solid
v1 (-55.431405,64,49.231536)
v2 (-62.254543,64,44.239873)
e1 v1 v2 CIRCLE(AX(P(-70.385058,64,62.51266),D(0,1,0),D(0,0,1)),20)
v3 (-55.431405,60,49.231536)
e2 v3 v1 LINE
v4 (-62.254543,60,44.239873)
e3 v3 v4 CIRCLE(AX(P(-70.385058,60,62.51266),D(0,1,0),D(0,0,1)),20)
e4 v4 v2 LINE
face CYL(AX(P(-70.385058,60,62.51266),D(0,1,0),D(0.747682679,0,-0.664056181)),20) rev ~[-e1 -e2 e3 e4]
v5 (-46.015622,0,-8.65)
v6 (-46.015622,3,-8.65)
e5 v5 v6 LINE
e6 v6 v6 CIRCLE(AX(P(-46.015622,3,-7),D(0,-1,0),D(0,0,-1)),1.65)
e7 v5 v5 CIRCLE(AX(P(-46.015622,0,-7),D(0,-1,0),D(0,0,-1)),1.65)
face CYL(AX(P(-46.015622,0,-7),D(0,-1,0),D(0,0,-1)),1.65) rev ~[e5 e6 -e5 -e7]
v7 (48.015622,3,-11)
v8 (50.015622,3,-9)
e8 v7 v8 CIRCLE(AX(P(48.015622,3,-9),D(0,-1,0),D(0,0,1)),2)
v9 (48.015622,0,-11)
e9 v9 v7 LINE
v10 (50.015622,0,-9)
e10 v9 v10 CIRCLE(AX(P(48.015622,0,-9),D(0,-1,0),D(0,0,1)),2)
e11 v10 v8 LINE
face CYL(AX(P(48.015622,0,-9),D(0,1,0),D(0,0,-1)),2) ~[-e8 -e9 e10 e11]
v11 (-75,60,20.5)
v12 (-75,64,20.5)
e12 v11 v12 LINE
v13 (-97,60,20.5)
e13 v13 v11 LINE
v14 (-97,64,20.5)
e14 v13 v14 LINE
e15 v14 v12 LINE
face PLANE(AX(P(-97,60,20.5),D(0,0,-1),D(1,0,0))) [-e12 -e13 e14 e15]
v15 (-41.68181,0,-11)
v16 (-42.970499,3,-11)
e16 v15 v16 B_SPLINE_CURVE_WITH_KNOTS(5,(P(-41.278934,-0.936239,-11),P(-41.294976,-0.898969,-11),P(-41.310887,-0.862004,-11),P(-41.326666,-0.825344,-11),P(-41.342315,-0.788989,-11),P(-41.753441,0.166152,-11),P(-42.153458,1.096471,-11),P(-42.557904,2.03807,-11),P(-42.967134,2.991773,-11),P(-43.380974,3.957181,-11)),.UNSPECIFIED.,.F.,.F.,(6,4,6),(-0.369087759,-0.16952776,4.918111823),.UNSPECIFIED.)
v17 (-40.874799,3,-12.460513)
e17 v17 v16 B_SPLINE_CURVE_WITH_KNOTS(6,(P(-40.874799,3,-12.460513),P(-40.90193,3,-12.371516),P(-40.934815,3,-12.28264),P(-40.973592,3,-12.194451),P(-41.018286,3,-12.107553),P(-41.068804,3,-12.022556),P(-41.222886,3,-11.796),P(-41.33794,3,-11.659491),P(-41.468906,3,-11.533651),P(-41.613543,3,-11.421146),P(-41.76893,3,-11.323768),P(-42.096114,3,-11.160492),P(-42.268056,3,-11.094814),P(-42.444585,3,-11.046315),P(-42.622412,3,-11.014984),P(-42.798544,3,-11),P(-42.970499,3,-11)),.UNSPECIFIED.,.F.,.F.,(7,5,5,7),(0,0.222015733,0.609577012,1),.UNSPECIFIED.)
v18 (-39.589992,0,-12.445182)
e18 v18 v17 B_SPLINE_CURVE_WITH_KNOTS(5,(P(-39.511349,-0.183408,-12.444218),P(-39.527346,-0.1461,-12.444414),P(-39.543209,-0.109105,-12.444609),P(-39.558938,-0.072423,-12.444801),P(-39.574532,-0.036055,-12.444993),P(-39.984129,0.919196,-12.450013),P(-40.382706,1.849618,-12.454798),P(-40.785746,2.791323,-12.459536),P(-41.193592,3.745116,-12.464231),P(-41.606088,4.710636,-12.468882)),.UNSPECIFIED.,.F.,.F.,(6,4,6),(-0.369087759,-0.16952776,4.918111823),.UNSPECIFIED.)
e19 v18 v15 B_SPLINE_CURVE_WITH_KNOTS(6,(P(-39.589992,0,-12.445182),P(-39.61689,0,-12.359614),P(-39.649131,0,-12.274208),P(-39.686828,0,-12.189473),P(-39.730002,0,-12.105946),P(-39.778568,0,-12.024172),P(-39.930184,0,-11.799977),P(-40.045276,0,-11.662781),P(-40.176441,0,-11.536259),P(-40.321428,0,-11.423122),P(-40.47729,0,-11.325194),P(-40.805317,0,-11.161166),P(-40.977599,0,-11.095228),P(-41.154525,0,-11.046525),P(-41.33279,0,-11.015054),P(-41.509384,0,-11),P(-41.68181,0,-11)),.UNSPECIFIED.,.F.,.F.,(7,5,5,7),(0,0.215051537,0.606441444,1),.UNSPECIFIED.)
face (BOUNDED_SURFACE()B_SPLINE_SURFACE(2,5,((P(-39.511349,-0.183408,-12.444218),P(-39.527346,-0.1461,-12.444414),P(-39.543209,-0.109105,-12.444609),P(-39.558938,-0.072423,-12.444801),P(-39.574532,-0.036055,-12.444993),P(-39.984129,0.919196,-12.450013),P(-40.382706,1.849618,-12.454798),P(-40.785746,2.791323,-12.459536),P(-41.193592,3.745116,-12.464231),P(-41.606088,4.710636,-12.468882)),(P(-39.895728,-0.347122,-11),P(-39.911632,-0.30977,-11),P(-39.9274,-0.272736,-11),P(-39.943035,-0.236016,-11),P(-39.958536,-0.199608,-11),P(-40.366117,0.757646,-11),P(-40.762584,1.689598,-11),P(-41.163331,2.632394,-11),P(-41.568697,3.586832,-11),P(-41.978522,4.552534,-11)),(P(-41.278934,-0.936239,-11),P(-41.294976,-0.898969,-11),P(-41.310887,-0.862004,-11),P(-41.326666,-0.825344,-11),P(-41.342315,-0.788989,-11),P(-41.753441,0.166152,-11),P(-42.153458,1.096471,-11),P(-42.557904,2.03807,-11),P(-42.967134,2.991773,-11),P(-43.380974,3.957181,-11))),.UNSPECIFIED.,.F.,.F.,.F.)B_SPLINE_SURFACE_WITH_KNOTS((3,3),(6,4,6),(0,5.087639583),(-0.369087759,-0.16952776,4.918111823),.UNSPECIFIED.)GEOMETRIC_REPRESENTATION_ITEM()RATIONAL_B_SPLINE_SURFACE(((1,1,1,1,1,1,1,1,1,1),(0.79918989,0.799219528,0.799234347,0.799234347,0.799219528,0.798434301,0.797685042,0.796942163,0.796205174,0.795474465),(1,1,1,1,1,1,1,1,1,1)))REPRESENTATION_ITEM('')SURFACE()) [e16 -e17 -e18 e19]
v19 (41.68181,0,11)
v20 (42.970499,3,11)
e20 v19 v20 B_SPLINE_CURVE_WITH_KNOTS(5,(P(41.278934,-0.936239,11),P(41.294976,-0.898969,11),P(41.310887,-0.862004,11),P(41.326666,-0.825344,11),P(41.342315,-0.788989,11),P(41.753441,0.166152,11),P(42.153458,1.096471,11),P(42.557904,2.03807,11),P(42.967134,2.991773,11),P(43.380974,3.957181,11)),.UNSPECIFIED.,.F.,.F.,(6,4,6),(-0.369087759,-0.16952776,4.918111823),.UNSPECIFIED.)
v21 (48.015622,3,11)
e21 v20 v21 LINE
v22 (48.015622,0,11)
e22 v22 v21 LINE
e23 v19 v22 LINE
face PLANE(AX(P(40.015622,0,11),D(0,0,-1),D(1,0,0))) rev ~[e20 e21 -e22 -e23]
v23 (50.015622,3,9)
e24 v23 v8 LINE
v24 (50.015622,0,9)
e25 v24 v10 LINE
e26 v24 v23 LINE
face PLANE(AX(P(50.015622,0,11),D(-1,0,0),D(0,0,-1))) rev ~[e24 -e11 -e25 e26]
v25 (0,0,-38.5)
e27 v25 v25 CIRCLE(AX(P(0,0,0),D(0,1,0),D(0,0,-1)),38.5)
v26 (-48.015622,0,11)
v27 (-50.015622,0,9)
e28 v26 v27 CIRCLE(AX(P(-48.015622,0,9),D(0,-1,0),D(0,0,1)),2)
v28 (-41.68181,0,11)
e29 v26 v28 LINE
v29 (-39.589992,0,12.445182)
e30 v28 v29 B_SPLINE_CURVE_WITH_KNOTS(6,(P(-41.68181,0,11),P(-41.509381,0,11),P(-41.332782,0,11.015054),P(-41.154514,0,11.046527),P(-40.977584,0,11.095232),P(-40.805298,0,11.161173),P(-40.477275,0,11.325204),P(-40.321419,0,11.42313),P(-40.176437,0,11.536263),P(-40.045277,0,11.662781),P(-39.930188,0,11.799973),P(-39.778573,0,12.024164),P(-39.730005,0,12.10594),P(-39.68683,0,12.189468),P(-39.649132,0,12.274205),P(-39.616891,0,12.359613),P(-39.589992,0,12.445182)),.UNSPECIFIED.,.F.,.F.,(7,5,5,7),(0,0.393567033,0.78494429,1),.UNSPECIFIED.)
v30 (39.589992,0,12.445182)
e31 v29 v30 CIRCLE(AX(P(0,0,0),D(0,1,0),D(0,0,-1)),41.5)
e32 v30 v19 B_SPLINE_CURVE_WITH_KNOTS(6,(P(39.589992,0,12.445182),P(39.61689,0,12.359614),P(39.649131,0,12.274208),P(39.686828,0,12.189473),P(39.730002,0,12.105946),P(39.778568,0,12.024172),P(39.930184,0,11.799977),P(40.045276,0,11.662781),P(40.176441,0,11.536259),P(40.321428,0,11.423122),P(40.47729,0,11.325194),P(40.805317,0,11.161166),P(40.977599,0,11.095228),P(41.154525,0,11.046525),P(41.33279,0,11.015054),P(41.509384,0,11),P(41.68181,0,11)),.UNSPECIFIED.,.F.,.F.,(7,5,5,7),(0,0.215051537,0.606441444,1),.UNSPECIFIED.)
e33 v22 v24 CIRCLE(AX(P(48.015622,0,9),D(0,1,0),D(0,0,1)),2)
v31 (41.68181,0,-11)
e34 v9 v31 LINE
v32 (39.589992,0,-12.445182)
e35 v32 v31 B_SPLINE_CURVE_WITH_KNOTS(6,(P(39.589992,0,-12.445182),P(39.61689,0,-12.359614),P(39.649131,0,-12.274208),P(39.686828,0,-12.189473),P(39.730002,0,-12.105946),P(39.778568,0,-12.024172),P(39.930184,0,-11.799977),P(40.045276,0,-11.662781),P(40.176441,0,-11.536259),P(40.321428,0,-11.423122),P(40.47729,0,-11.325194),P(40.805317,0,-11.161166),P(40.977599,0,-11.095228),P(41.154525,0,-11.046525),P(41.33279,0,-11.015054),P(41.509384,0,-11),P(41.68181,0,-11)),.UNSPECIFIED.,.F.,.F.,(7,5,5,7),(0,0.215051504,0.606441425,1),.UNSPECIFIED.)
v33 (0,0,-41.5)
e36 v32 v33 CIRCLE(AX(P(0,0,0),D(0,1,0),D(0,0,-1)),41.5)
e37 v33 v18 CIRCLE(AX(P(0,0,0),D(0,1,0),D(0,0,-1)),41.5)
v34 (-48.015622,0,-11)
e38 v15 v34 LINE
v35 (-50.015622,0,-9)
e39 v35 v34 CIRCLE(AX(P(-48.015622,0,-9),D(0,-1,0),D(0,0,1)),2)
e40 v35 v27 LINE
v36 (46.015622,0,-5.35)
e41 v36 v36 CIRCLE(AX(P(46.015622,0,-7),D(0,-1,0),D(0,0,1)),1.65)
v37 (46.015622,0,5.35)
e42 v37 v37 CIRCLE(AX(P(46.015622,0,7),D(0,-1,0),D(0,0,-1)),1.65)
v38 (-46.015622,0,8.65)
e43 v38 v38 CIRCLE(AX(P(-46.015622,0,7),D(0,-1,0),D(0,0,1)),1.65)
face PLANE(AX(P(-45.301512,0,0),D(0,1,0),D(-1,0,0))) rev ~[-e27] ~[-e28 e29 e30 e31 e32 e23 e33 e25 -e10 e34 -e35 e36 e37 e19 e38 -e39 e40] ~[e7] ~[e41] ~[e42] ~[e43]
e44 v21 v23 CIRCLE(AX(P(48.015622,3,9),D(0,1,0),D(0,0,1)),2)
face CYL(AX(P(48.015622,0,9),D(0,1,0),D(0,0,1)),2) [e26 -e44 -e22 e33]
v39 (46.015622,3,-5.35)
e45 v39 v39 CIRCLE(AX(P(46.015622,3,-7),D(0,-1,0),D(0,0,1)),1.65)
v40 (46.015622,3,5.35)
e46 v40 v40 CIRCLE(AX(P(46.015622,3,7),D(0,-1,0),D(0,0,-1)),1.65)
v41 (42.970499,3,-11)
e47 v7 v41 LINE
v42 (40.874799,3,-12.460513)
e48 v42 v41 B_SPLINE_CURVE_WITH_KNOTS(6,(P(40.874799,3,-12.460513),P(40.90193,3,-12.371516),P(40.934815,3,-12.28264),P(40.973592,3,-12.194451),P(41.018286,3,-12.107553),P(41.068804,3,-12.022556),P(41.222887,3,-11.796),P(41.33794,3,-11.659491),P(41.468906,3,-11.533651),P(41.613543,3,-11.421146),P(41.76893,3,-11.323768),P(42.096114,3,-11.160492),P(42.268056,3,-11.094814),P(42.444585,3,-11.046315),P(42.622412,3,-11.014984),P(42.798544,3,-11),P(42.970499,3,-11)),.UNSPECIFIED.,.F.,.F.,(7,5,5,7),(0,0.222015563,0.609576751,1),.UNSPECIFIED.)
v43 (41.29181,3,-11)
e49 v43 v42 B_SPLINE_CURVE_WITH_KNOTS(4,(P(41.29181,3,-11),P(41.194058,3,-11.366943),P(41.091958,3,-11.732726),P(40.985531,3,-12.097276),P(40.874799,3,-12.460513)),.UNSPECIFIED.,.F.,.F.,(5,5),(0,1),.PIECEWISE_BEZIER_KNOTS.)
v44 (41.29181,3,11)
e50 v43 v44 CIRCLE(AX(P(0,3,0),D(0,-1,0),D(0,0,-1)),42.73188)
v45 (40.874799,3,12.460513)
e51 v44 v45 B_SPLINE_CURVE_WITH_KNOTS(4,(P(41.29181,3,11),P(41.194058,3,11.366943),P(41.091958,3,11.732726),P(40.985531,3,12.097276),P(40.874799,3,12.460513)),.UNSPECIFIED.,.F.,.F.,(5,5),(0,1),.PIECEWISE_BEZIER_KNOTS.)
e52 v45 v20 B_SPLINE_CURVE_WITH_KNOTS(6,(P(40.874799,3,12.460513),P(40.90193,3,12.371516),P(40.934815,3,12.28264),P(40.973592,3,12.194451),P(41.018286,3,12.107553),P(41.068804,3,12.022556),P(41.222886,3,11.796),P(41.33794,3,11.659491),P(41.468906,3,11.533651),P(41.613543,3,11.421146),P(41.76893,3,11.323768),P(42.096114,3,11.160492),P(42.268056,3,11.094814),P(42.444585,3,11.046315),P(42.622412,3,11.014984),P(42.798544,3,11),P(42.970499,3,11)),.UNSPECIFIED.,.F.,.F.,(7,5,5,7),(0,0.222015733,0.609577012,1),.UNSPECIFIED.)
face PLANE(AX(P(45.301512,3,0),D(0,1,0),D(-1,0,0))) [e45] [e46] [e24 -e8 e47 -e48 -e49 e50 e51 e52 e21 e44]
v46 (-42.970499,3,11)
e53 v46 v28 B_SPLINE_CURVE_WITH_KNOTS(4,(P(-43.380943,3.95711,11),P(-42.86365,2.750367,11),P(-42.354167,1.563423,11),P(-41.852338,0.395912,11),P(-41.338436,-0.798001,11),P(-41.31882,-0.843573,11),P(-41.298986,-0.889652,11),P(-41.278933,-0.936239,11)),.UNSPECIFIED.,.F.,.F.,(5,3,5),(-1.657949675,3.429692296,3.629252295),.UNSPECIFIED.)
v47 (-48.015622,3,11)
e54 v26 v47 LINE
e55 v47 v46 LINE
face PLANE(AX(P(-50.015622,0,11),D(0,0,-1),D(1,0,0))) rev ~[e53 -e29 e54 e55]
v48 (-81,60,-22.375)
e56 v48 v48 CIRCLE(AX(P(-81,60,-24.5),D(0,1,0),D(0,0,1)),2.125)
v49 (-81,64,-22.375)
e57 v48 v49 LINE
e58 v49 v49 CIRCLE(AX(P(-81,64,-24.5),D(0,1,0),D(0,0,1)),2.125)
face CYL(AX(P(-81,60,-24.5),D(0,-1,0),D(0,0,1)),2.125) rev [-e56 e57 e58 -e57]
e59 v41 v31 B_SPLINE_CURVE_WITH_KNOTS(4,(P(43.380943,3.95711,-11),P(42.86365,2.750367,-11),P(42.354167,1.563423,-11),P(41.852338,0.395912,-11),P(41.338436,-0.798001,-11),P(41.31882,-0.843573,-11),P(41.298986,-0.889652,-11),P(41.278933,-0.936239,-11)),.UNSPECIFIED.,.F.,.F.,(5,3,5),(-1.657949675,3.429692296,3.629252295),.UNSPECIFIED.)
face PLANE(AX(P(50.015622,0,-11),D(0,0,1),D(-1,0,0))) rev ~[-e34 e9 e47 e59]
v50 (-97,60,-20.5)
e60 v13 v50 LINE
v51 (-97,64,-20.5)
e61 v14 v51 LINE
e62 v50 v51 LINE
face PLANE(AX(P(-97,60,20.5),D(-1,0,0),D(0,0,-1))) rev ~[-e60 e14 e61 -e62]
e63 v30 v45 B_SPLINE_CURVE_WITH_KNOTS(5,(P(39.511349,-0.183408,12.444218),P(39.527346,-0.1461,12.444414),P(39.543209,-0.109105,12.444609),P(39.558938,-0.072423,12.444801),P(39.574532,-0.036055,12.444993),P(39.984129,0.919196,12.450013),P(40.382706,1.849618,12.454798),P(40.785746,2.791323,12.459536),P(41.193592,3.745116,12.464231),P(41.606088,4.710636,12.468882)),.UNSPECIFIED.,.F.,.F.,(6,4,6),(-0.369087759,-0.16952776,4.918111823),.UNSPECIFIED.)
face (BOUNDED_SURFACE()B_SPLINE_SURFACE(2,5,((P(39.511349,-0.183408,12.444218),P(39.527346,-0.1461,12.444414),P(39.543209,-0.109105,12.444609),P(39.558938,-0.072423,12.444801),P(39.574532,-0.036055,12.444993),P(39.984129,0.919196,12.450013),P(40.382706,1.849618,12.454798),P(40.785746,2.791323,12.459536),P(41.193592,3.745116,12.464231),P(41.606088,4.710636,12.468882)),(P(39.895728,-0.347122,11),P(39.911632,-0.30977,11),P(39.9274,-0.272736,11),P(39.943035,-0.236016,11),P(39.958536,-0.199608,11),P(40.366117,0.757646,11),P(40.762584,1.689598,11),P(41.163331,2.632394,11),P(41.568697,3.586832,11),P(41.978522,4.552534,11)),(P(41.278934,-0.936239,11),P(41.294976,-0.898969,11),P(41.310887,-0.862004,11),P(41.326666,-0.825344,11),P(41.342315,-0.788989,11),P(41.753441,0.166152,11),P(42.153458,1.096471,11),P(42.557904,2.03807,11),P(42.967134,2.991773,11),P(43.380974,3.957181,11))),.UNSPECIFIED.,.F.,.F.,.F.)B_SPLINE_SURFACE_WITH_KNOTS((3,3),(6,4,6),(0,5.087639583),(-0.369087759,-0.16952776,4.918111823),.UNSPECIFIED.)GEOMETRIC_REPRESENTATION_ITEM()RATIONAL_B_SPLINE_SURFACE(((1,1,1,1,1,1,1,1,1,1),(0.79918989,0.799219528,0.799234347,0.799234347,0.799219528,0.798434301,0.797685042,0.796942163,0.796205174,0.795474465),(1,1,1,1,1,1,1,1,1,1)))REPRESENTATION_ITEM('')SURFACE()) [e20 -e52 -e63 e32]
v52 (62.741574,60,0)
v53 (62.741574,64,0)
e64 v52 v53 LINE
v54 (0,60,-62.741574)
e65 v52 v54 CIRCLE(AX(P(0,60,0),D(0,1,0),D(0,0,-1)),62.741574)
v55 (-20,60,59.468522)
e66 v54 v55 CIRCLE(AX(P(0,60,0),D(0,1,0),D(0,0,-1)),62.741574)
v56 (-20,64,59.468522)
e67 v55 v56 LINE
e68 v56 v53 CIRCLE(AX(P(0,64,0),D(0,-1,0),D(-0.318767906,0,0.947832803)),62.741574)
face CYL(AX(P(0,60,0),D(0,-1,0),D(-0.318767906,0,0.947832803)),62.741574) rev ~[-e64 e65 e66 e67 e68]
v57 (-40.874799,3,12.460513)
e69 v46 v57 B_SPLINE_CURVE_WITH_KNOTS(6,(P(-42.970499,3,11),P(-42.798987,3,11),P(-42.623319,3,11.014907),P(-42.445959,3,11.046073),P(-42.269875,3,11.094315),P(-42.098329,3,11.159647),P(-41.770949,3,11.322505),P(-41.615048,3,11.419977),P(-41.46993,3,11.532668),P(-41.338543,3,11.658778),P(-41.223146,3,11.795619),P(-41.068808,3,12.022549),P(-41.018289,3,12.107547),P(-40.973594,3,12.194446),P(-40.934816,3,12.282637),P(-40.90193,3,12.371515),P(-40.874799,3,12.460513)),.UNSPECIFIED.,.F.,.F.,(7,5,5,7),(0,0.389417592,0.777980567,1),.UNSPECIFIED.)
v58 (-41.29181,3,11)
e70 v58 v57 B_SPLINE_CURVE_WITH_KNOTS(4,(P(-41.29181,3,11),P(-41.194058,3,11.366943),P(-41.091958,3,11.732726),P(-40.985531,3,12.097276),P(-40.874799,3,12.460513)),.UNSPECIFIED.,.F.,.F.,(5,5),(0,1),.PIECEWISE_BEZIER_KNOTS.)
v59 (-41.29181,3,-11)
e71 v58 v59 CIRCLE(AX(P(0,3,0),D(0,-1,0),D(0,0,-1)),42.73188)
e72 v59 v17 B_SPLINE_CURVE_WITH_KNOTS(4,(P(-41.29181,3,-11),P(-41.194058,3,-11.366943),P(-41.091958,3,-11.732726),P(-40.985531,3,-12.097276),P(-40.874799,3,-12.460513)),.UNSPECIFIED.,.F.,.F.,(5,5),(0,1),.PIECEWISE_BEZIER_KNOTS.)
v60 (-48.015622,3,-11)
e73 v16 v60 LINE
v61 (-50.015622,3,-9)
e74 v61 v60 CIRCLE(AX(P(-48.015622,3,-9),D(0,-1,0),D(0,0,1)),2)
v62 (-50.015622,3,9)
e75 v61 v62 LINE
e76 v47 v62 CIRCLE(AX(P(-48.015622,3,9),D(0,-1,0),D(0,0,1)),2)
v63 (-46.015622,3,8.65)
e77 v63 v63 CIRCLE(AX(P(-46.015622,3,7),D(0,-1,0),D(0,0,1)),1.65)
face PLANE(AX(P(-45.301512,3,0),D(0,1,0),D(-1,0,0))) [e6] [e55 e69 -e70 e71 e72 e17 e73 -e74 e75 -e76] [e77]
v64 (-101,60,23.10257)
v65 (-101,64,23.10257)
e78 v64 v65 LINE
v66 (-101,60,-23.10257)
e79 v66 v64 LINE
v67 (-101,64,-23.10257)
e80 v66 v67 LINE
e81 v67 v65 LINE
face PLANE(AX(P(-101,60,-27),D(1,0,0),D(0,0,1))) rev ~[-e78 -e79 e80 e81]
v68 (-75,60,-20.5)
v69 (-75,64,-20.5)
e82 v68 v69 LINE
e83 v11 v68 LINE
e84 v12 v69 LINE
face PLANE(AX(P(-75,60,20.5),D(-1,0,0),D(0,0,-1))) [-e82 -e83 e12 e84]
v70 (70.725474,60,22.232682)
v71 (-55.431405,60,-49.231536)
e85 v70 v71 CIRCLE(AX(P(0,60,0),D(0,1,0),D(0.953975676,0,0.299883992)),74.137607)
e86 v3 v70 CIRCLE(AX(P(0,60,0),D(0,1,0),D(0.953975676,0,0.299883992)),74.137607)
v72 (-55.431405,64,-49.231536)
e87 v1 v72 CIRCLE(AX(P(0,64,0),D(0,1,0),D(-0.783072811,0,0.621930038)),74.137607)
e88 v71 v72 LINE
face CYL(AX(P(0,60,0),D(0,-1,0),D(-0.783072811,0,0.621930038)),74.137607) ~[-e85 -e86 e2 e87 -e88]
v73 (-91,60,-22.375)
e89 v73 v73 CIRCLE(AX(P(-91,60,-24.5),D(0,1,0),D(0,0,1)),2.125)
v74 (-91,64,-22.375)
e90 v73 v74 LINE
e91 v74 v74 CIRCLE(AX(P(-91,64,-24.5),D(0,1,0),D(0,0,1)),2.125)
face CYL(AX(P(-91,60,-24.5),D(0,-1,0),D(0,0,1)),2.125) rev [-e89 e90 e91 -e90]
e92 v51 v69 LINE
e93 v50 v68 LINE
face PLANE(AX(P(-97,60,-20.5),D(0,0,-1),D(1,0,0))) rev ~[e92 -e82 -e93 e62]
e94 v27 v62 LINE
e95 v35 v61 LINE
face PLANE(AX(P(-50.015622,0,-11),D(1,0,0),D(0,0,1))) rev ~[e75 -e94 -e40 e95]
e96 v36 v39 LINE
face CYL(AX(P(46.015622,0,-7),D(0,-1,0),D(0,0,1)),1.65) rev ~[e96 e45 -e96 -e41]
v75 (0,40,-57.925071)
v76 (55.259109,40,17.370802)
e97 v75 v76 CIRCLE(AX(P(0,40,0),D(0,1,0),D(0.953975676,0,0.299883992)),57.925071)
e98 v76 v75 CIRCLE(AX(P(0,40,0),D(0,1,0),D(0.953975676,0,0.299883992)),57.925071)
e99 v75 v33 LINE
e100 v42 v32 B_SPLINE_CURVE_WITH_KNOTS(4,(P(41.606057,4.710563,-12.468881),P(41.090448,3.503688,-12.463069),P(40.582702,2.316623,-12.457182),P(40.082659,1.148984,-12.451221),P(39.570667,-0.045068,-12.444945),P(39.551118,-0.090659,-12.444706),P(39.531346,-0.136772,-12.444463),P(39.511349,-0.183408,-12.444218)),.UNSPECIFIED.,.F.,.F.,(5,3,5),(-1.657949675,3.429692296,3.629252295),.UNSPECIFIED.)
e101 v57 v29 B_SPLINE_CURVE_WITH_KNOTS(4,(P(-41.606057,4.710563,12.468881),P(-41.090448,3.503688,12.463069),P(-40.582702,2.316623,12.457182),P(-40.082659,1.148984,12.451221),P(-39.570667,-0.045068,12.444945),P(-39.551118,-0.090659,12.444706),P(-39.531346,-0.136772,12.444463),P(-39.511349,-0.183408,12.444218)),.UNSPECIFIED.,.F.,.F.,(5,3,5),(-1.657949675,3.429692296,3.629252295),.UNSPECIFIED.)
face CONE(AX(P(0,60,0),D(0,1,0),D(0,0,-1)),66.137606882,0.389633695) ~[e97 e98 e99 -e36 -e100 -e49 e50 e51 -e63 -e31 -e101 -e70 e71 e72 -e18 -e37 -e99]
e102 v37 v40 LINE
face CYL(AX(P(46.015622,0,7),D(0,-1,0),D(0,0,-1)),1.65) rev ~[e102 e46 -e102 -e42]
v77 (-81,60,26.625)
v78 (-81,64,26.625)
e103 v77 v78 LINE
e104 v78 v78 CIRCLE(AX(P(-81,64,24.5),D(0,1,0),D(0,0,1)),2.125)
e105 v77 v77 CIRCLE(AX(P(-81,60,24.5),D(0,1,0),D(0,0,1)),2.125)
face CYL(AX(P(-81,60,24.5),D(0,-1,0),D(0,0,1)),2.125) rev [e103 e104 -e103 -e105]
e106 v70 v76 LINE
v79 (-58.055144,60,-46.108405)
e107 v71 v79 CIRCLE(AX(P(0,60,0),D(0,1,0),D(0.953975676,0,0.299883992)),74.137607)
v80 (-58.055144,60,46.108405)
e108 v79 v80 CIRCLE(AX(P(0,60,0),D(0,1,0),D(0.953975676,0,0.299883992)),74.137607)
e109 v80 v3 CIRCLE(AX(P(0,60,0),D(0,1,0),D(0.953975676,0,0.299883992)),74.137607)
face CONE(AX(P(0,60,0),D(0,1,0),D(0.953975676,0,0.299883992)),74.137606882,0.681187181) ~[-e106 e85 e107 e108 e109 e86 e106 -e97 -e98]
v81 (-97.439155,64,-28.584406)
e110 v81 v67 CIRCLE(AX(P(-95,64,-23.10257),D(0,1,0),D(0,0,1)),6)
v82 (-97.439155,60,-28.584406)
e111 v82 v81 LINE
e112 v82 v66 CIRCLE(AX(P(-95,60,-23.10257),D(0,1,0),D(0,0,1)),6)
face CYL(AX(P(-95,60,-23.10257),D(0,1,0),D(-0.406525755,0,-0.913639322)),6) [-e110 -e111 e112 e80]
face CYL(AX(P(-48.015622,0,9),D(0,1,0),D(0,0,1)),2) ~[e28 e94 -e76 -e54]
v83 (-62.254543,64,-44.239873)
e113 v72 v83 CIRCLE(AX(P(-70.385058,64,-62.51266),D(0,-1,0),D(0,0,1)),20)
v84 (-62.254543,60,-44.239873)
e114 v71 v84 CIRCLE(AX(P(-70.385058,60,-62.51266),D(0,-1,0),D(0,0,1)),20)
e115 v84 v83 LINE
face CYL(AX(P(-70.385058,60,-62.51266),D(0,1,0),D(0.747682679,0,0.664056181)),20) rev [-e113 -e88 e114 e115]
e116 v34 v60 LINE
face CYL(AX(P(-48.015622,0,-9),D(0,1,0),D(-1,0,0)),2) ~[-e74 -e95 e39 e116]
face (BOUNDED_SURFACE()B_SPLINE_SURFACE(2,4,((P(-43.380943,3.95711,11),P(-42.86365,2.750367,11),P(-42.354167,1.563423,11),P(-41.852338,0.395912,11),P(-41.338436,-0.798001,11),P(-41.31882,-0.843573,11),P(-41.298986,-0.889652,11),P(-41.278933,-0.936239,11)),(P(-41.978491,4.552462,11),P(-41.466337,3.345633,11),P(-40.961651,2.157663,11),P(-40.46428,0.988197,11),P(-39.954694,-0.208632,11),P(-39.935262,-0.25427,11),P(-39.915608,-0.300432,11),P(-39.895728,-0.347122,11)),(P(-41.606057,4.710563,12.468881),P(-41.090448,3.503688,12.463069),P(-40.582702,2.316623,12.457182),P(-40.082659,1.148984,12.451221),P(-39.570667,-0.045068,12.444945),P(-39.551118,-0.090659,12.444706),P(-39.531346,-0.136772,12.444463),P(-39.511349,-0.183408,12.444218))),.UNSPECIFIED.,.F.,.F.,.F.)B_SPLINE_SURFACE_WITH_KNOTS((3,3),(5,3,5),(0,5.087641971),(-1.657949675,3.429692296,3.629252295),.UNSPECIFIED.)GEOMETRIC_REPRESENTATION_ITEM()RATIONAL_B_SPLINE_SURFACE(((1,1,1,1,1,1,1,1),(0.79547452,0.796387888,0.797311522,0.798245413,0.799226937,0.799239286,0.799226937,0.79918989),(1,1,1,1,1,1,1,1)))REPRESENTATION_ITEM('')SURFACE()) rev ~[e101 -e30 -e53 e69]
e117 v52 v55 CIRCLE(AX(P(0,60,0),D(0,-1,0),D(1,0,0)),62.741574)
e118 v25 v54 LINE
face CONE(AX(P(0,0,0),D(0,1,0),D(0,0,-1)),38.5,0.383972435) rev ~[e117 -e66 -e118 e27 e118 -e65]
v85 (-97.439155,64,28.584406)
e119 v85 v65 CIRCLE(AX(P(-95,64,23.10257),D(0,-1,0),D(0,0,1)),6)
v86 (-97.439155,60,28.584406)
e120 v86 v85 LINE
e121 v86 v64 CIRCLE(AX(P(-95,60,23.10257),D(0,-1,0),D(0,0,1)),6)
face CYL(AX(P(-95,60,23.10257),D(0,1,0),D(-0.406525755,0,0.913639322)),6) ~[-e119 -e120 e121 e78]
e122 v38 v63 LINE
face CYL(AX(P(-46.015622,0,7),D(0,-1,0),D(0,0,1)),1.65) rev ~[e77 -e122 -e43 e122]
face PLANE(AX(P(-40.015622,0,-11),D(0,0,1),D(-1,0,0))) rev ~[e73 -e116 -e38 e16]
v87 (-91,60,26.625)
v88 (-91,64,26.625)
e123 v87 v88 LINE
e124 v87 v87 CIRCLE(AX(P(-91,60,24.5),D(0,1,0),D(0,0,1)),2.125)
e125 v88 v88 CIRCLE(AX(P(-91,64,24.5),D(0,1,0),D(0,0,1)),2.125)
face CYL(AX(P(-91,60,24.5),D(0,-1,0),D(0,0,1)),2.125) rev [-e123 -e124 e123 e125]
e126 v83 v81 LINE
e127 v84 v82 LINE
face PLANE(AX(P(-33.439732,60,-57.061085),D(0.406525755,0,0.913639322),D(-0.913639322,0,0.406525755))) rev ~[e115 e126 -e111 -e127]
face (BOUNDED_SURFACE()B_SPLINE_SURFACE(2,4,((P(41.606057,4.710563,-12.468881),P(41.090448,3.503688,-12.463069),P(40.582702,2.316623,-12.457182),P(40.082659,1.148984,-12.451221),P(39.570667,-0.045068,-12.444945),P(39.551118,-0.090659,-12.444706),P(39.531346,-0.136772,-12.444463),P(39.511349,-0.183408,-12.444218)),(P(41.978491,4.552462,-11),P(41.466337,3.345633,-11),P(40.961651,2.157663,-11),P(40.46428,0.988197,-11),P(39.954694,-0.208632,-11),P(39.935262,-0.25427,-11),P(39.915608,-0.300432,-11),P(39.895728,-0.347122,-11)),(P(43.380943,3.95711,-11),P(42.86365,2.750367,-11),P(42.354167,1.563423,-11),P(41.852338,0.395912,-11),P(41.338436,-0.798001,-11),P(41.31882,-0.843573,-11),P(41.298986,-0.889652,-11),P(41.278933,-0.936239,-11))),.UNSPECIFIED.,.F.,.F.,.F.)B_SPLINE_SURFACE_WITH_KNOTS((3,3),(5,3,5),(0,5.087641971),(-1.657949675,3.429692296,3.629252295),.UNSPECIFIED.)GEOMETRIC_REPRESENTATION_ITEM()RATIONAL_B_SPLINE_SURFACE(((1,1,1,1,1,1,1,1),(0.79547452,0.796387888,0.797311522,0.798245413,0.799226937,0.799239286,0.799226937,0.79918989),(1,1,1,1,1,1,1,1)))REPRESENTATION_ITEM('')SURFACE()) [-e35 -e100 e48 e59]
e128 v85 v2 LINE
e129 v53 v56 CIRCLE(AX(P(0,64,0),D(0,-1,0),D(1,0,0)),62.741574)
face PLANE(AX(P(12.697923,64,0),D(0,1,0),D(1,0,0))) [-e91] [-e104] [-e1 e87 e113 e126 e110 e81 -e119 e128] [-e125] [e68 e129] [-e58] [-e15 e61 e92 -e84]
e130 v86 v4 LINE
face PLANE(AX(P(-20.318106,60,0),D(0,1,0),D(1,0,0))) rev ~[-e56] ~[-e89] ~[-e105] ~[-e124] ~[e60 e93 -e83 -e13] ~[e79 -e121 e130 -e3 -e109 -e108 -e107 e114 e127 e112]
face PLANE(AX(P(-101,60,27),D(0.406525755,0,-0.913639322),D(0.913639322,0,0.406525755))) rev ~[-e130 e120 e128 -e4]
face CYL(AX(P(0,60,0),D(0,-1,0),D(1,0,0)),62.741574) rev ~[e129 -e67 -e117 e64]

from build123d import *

# Parameters (mm, degrees)
SKETCH3_R           = 1.65
BOSS_EXTRUDE1_DEPTH = 3
FILLET1_R           = 2
SKETCH4_R           = 2.125
SKETCH4_W           = 22
SKETCH4_H           = 41
BOSS_EXTRUDE2_DEPTH = 4
BOSS_EXTRUDE3_DEPTH = 4
FILLET4_R           = 20
FILLET5_R           = 6


with BuildPart() as part:
    # Sketch2 → Revolve1 (revolve)
    with BuildSketch(Plane.XY, mode=Mode.PRIVATE) as revolve1_sk:
        Polygon((38.5, 0), (62.74157355, 60), (66.137606882, 60), (41.5, 0), align=None)
    revolve(revolve1_sk.sketch.rotate(Axis((0, 0, 0), (0, 1, 0)), 90), axis=Axis((0, 0, 0), (0, 1, 0)))

    # Sketch3 → Boss-Extrude1 (add)
    # profile 1 of 2: a face of its own
    with BuildSketch(Plane.XZ):
        with BuildLine():
            Line((-50.015621949, 11), (-40.015621949, 11))
            ThreePointArc((-40.015621949, 11), (-41.5, 0), (-40.015621949, -11))
            Line((-40.015621949, -11), (-50.015621949, -11))
            Line((-50.015621949, -11), (-50.015621949, 11))
        make_face()
        with Locations(Location((-46.015621949, -7, 0), (0, 0, 270))):
            Circle(SKETCH3_R, mode=Mode.SUBTRACT)
        with Locations(Location((-46.015621949, 7, 0), (0, 0, 90))):
            Circle(SKETCH3_R, mode=Mode.SUBTRACT)
    # profile 2 of 2: a face of its own
    with BuildSketch(Plane.XZ):
        with BuildLine():
            Line((50.015621949, -11), (40.015621949, -11))
            ThreePointArc((40.015621949, -11), (41.5, 0), (40.015621949, 11))
            Line((40.015621949, 11), (50.015621949, 11))
            Line((50.015621949, 11), (50.015621949, -11))
        make_face()
        with Locations(Location((46.015621949, 7, 0), (0, 0, 270))):
            Circle(SKETCH3_R, mode=Mode.SUBTRACT)
        with Locations(Location((46.015621949, -7, 0), (0, 0, 90))):
            Circle(SKETCH3_R, mode=Mode.SUBTRACT)
    extrude(amount=-BOSS_EXTRUDE1_DEPTH)

    # Fillet1
    fillet1_edges = [part.edges().sort_by_distance(p)[0] for p in [
        (-40.654005454, 1.499876919, -11),
        (-40.654005454, 1.499876919, 11),
        (-50.015621949, 1.5, -11),
        (-50.015621949, 1.5, 11),
        (40.654005454, 1.499876919, -11),
        (40.654005454, 1.499876919, 11),
        (50.015621949, 1.5, 11),
        (50.015621949, 1.5, -11),
    ]]
    fillet(fillet1_edges, radius=FILLET1_R)



with BuildPart() as body_2:
    # Sketch4 → Boss-Extrude2 (new body)
    with BuildSketch(Plane(origin=(0, 60, 0), x_dir=(1, 0, 0), z_dir=(0, 1, 0))):
        with BuildLine():
            Line((-33.439731634, 57.061084746), (-101, 27))
            Line((-101, 27), (-101, -27))
            Line((-101, -27), (-33.439731634, -57.061084746))
            Line((-33.439731634, -57.061084746), (-20, -63.04112185))
            ThreePointArc((-20, -63.04112185), (66.137606882, 0), (-20, 63.04112185))
            Line((-20, 63.04112185), (-33.439731634, 57.061084746))
        make_face()
        with Locations(Location((-91, -24.5, 0), (0, 0, 270))):
            Circle(SKETCH4_R, mode=Mode.SUBTRACT)
        with Locations(Location((-81, -24.5, 0), (0, 0, 270))):
            Circle(SKETCH4_R, mode=Mode.SUBTRACT)
        with Locations((-86, 0)):
            Rectangle(SKETCH4_W, SKETCH4_H, mode=Mode.SUBTRACT)
        with Locations(Location((-91, 24.5, 0), (0, 0, 270))):
            Circle(SKETCH4_R, mode=Mode.SUBTRACT)
        with Locations(Location((-81, 24.5, 0), (0, 0, 270))):
            Circle(SKETCH4_R, mode=Mode.SUBTRACT)
        with BuildLine():
            ThreePointArc((62.74157355, 0), (36.617438336, -50.947701236), (-20, -59.468521518))
            ThreePointArc((-20, -59.468521518), (-36.617438336, 50.947701236), (62.74157355, 0))
        make_face(mode=Mode.SUBTRACT)
    extrude(amount=BOSS_EXTRUDE2_DEPTH)


with BuildPart() as part_1:
    add(part.part)

    add(body_2.part)  # Revolve5 merges body 2
    # Sketch6 → Revolve5 (revolve)
    with BuildSketch(Plane.XY, mode=Mode.PRIVATE) as revolve5_sk:
        Polygon((-66.137606882, 60), (-74.137606882, 60), (-57.925071255, 40), align=None)
    revolve(revolve5_sk.sketch.rotate(Axis((0, 0, 0), (0, 1, 0)), 162.54936445), axis=Axis((0, 0, 0), (0, 1, 0)))

    # Sketch7 → Boss-Extrude3 (add)
    with BuildSketch(Plane(origin=(0, 60, 0), x_dir=(1, 0, 0), z_dir=(0, 1, 0))):
        with BuildLine():
            Line((-58.055144228, 46.108404688), (-20, 63.04112185))
            ThreePointArc((-20, 63.04112185), (66.137606882, 0), (-20, -63.04112185))
            Line((-20, -63.04112185), (-58.055144228, -46.108404688))
            ThreePointArc((-58.055144228, -46.108404688), (74.137606882, 0), (-58.055144228, 46.108404688))
        make_face()
    extrude(amount=BOSS_EXTRUDE3_DEPTH)

    # Fillet4
    fillet4_edges = [part_1.edges().sort_by_distance(p)[0] for p in [
        (-58.055144228, 62, 46.108404688),
        (-58.055144228, 62, -46.108404688),
    ]]
    fillet(fillet4_edges, radius=FILLET4_R)

    # Fillet5
    fillet5_edges = [part_1.edges().sort_by_distance(p)[0] for p in [
        (-101, 62, -27),
        (-101, 62, 27),
    ]]
    fillet(fillet5_edges, radius=FILLET5_R)


solid = part_1.part
